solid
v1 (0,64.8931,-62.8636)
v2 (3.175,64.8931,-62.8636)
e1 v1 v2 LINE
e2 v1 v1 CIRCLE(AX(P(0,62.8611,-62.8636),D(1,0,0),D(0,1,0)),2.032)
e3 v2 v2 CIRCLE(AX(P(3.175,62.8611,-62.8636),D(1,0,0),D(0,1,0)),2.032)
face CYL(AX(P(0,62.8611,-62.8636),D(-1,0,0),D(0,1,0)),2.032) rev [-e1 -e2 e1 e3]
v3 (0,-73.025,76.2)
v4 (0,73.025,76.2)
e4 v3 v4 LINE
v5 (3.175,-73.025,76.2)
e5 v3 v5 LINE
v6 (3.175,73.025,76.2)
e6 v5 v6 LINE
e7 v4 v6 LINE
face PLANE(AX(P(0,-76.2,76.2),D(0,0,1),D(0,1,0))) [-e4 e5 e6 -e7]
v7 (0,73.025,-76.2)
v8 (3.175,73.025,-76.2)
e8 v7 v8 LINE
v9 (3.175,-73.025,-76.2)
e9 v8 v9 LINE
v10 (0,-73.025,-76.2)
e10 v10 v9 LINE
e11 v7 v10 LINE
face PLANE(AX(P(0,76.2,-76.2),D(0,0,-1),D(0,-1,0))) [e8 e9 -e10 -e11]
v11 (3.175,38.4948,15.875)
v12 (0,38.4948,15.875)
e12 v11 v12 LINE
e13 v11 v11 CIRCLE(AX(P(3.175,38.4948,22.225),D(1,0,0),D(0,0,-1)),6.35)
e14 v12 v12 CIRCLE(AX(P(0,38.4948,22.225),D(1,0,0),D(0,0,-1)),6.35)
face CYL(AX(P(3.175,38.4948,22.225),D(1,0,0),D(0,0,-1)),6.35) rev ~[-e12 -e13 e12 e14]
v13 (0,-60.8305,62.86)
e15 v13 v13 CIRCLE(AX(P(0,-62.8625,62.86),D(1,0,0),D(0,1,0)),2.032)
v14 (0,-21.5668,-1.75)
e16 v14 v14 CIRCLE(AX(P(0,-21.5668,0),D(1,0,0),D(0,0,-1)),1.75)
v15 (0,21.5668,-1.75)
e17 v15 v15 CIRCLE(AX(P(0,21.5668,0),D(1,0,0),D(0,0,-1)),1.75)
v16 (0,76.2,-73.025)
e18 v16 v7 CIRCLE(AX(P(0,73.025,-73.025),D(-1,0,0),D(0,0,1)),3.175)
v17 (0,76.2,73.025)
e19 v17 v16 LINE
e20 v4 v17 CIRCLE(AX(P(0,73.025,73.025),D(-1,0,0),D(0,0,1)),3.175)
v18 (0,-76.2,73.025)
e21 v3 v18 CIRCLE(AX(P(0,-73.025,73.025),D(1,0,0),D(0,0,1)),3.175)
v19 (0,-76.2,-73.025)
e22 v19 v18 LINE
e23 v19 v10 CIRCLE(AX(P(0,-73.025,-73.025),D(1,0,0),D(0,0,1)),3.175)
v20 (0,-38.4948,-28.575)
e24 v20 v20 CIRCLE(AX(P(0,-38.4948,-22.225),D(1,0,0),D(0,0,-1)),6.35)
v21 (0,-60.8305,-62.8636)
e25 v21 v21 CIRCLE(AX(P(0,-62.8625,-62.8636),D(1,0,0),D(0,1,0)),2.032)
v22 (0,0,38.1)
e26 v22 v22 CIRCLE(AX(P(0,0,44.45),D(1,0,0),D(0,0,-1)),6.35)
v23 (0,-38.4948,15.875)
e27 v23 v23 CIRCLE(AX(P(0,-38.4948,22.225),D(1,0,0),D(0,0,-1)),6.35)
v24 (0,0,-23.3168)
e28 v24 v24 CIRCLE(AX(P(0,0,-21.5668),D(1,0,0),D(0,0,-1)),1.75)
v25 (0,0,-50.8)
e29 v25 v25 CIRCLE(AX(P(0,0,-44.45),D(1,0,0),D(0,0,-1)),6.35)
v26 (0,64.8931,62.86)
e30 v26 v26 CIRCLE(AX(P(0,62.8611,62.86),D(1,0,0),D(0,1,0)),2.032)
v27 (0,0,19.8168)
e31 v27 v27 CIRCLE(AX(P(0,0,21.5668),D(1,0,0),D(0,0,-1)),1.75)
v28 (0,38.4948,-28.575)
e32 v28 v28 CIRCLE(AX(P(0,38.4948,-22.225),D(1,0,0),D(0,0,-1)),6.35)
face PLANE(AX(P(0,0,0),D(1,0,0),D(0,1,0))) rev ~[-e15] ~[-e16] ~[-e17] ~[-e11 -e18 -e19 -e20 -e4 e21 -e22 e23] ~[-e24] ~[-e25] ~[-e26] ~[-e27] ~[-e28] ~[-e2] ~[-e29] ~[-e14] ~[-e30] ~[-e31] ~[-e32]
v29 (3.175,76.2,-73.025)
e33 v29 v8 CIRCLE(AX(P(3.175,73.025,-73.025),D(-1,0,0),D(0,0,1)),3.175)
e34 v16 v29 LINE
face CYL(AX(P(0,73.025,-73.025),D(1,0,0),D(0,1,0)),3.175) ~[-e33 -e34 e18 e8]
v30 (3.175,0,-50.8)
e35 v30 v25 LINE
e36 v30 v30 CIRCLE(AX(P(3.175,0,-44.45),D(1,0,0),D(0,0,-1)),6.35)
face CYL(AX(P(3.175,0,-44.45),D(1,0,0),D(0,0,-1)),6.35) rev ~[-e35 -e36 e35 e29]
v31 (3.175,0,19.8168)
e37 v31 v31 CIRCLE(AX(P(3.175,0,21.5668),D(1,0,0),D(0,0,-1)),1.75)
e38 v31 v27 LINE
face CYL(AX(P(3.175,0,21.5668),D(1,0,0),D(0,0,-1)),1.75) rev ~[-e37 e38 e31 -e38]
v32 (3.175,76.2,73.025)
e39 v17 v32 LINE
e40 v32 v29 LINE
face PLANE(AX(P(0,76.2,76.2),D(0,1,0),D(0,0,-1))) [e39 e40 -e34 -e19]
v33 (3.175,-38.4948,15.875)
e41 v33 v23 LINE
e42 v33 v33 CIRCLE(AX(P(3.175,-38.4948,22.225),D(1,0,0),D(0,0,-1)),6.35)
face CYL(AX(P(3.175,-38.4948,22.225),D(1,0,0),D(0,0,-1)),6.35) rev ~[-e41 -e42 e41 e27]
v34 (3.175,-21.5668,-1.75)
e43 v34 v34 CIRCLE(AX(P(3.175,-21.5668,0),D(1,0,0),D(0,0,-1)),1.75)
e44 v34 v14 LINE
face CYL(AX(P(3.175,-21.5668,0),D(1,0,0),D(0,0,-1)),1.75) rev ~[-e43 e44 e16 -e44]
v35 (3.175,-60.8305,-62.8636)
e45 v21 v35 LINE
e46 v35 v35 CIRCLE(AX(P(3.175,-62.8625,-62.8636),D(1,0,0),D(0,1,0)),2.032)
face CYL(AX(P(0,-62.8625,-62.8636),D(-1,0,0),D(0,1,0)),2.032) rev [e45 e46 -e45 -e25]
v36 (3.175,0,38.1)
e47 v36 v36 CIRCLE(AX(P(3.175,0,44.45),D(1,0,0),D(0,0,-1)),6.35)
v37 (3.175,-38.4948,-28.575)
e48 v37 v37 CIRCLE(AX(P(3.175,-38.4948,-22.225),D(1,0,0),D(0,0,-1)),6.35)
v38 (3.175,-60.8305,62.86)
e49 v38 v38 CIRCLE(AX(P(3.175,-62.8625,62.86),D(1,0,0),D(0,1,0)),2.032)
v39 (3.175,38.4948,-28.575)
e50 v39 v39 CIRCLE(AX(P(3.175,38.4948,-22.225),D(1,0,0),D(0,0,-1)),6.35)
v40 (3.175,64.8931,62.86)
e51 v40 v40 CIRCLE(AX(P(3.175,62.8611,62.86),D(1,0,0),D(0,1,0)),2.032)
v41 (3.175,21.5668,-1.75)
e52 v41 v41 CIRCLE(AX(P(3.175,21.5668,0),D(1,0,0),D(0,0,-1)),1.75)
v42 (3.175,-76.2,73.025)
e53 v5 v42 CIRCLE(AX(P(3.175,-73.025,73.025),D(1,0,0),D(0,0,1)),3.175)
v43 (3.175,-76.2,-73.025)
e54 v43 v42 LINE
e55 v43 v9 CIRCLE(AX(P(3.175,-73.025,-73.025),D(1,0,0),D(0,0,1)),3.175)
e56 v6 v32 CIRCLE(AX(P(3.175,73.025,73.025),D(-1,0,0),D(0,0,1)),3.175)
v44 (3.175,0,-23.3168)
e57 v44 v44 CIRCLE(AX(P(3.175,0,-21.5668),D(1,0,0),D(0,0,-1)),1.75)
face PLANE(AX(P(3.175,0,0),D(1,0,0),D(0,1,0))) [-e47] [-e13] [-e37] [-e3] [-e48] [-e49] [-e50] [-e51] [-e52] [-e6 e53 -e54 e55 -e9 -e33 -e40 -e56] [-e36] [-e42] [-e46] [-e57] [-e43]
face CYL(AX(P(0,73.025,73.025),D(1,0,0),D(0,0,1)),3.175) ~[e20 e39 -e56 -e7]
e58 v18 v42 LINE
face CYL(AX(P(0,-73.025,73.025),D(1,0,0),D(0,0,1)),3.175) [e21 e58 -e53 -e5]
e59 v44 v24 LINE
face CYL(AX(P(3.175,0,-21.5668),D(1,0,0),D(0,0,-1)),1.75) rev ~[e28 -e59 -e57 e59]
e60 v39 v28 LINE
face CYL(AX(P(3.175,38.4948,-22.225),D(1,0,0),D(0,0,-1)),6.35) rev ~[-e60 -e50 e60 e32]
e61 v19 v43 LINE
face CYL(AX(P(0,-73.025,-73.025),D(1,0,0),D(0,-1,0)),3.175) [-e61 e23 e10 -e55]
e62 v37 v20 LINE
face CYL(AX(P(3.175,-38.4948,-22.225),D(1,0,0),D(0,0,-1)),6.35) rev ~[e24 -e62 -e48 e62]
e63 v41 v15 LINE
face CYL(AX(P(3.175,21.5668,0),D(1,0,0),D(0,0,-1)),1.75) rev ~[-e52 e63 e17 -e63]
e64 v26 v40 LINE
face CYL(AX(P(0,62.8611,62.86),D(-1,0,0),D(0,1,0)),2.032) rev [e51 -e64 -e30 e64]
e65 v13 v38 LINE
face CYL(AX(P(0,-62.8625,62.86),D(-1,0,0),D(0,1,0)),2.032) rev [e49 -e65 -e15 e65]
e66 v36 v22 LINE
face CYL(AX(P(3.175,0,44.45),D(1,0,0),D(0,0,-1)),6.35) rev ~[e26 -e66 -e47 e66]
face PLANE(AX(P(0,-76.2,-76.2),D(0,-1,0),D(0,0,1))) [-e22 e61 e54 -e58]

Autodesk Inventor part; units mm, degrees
ref_plane "YZ Plane" through (0, 0, 0) normal (1, 0, 0) x (0, 1, 0)
ref_plane "XZ Plane" through (0, 0, 0) normal (0, 1, 0) x (-1, 0, 0)
ref_plane "XY Plane" through (0, 0, 0) normal (0, 0, 1) x (1, 0, 0)
sketch "Sketch1" plane through (0, 0, 0) normal (1, 0, 0) x (0, 1, 0)
  line L0 (-76.2, 76.2) -> (76.2, 76.2)
  line L1 (76.2, 76.2) -> (76.2, -76.2)
  line L2 (76.2, -76.2) -> (-76.2, -76.2)
  line L3 (-76.2, -76.2) -> (-76.2, 76.2)
  circle A0 centre (62.8611, 62.86) radius 2.032
  circle A1 centre (-62.8625, -62.8636) radius 2.032
  circle A2 centre (-0.0007, -88.9018) radius 2.032
  circle A3 centre (-62.8625, 62.86) radius 2.032
  circle A4 centre (88.8993, -0.0018) radius 2.032
  circle A5 centre (-88.9007, -0.0018) radius 2.032
  circle A6 centre (62.8611, -62.8636) radius 2.032
  circle A7 centre (-0.0007, 88.8982) radius 2.032
  circle A8 centre (-0.0007, -0.0018) radius 6.35
  dimension "d0" = 152.4
  dimension "d1" = 152.4
  dimension "d5" = 12.7
extrude "Extrusion2" add sketch "Sketch1" along normal blind 3.175 contours L0 L1 L2 L3 | A8
fillet "Fillet2" radius 3.175 4 edges at (1.5875, 76.2, 76.2) (1.5875, 76.2, -76.2) (1.5875, -76.2, 76.2) (1.5875, -76.2, -76.2)
sketch "Sketch2" plane through (3.175, 0, 0) normal (1, 0, 0) x (0, 0, -1)
  line L0 (-50.8, -50.8) -> (50.8, -50.8)
  line L1 (50.8, -50.8) -> (50.8, 50.8)
  line L2 (50.8, 50.8) -> (-50.8, 50.8)
  line L3 (-50.8, 50.8) -> (-50.8, -50.8)
  line L4 (-50.8, -50.8) -> (50.8, 50.8) construction
  line L5 (50.8, -50.8) -> (-50.8, 50.8) construction
  circle A0 centre (0, 0) radius 12.7
  line L6 (-12.7, 0) -> (-50.8, 38.1)
  line L7 (0, 12.7) -> (-38.1, 50.8)
  line L8 (-38.1, 50.8) -> (0, 12.7)
  line L9 (38.1, 50.8) -> (0, 12.7)
  line L10 (12.7, 0) -> (50.8, 38.1)
  line L11 (12.7, 0) -> (50.8, -38.1)
  line L12 (0, -12.7) -> (38.1, -50.8)
  line L13 (0, -12.7) -> (-38.1, -50.8)
  line L14 (-12.7, 0) -> (-50.8, -38.1)
  dimension "d9" = 101.6
  dimension "d10" = 101.6
  dimension "d11" = 25.4
extrude "Extrusion3" [suppressed]
fillet "Fillet3" [suppressed]
sketch "Sketch3" plane through (3.175, 0, 0) normal (1, 0, 0) x (0, 0, -1)
  circle A0 centre (-22.225, -38.4948) radius 6.35
  circle A1 centre (-44.45, 0) radius 6.35
  circle A2 centre (22.225, -38.4948) radius 6.35
  circle A3 centre (-22.225, 38.4948) radius 6.35
  circle A4 centre (22.225, 38.4948) radius 6.35
  circle A5 centre (44.45, 0) radius 6.35
  point P0 (0, 0)
extrude "Extrusion4" cut sketch "Sketch3" against normal blind 25.4
sketch "Sketch4" plane through (3.175, 0, 0) normal (1, 0, 0) x (0, 0, -1)
  arc A0 (23.2155, 2.1696) -> (22.9916, -2.3228) centre (21.5668, 0) ccw
  line L0 (23.2155, 2.1696) -> (2.1696, 23.2155)
  arc A1 (-2.3228, 22.9916) -> (2.1696, 23.2155) centre (0, 21.5668) ccw
  line L1 (-2.3228, 22.9916) -> (-22.9916, 2.3228)
  arc A2 (-21.0224, -2.6701) -> (-22.9916, 2.3228) centre (-21.5668, 0) ccw
  arc A3 (-21.0026, -2.6855) -> (-21.0224, -2.6701) centre (-21.0733, -2.7562) ccw
  line L2 (-21.0026, -2.6855) -> (-2.6855, -21.0026)
  arc A4 (-2.6701, -21.0224) -> (-2.6855, -21.0026) centre (-2.7562, -21.0733) ccw
  arc A5 (2.3228, -22.9916) -> (-2.6701, -21.0224) centre (0, -21.5668) ccw
  line L3 (2.3228, -22.9916) -> (22.9916, -2.3228)
  circle A6 centre (3.0052, -18.703) radius 0.6
  circle A7 centre (4.1012, -19.799) radius 0.6
  circle A8 centre (6.8364, 2.2749) radius 0.5
  line L4 (-6.1377, 16.2493) -> (-7.0852, 17.1968)
  arc A9 (-6.1377, 16.1362) -> (-6.1377, 16.2493) centre (-6.1943, 16.1927) ccw
  line L5 (-7.0852, 15.1887) -> (-6.1377, 16.1362)
  arc A10 (-7.1983, 15.1887) -> (-7.0852, 15.1887) centre (-7.1418, 15.2452) ccw
  line L6 (-8.1459, 16.1362) -> (-7.1983, 15.1887)
  arc A11 (-8.1459, 16.2493) -> (-8.1459, 16.1362) centre (-8.0893, 16.1927) ccw
  line L7 (-7.1983, 17.1968) -> (-8.1459, 16.2493)
  arc A12 (-7.0852, 17.1968) -> (-7.1983, 17.1968) centre (-7.1418, 17.1403) ccw
  line L8 (8.8176, 15.6483) -> (7.8701, 16.5958)
  arc A13 (8.8176, 15.5351) -> (8.8176, 15.6483) centre (8.7611, 15.5917) ccw
  line L9 (7.8701, 14.5876) -> (8.8176, 15.5351)
  arc A14 (7.757, 14.5876) -> (7.8701, 14.5876) centre (7.8135, 14.6442) ccw
  line L10 (6.8094, 15.5351) -> (7.757, 14.5876)
  arc A15 (6.8094, 15.6483) -> (6.8094, 15.5351) centre (6.866, 15.5917) ccw
  line L11 (7.757, 16.5958) -> (6.8094, 15.6483)
  arc A16 (7.8701, 16.5958) -> (7.757, 16.5958) centre (7.8135, 16.5392) ccw
  line L12 (19.601, 4.7235) -> (18.6535, 5.671)
  arc A17 (19.601, 4.6103) -> (19.601, 4.7235) centre (19.5444, 4.6669) ccw
  line L13 (18.6535, 3.6628) -> (19.601, 4.6103)
  arc A18 (18.5403, 3.6628) -> (18.6535, 3.6628) centre (18.5969, 3.7194) ccw
  line L14 (17.5928, 4.6103) -> (18.5403, 3.6628)
  arc A19 (17.5928, 4.7235) -> (17.5928, 4.6103) centre (17.6494, 4.6669) ccw
  line L15 (18.5403, 5.671) -> (17.5928, 4.7235)
  arc A20 (18.6535, 5.671) -> (18.5403, 5.671) centre (18.5969, 5.6144) ccw
  line L16 (15.8533, 4.5821) -> (14.9058, 5.5296)
  arc A21 (15.8533, 4.4689) -> (15.8533, 4.5821) centre (15.7968, 4.5255) ccw
  line L17 (14.9058, 3.5214) -> (15.8533, 4.4689)
  arc A22 (14.7927, 3.5214) -> (14.9058, 3.5214) centre (14.8492, 3.578) ccw
  line L18 (13.8452, 4.4689) -> (14.7927, 3.5214)
  arc A23 (13.8452, 4.5821) -> (13.8452, 4.4689) centre (13.9017, 4.5255) ccw
  line L19 (14.7927, 5.5296) -> (13.8452, 4.5821)
  arc A24 (14.9058, 5.5296) -> (14.7927, 5.5296) centre (14.8492, 5.473) ccw
  line L20 (16.419, 0.1273) -> (15.4715, 1.0748)
  arc A25 (16.419, 0.0141) -> (16.419, 0.1273) centre (16.3625, 0.0707) ccw
  line L21 (15.4715, -0.9334) -> (16.419, 0.0141)
  arc A26 (15.3584, -0.9334) -> (15.4715, -0.9334) centre (15.4149, -0.8768) ccw
  line L22 (14.4108, 0.0141) -> (15.3584, -0.9334)
  arc A27 (14.4108, 0.1273) -> (14.4108, 0.0141) centre (14.4674, 0.0707) ccw
  line L23 (15.3584, 1.0748) -> (14.4108, 0.1273)
  arc A28 (15.4715, 1.0748) -> (15.3584, 1.0748) centre (15.4149, 1.0182) ccw
  circle A29 centre (16.122, -7.2832) radius 0.75
  circle A30 centre (-6.5407, -11.7733) radius 0.6
  circle A31 centre (-7.6014, -10.7127) radius 0.6
  circle A32 centre (-8.6621, -9.652) radius 0.6
  circle A33 centre (-8.8035, -12.4097) radius 0.5
  line L24 (18.9292, -5.4235) -> (17.9817, -4.476)
  arc A34 (18.9292, -5.5366) -> (18.9292, -5.4235) centre (18.8727, -5.4801) ccw
  line L25 (17.9817, -6.4842) -> (18.9292, -5.5366)
  arc A35 (17.8686, -6.4842) -> (17.9817, -6.4842) centre (17.9252, -6.4276) ccw
  line L26 (16.9211, -5.5366) -> (17.8686, -6.4842)
  arc A36 (16.9211, -5.4235) -> (16.9211, -5.5366) centre (16.9776, -5.4801) ccw
  line L27 (17.8686, -4.476) -> (16.9211, -5.4235)
  arc A37 (17.9817, -4.476) -> (17.8686, -4.476) centre (17.9252, -4.5326) ccw
  line L28 (-4.2144, 14.326) -> (-5.1619, 15.2735)
  arc A38 (-4.2144, 14.2128) -> (-4.2144, 14.326) centre (-4.2709, 14.2694) ccw
  line L29 (-5.1619, 13.2653) -> (-4.2144, 14.2128)
  arc A39 (-5.275, 13.2653) -> (-5.1619, 13.2653) centre (-5.2184, 13.3219) ccw
  line L30 (-6.2225, 14.2128) -> (-5.275, 13.2653)
  arc A40 (-6.2225, 14.326) -> (-6.2225, 14.2128) centre (-6.166, 14.2694) ccw
  line L31 (-5.275, 15.2735) -> (-6.2225, 14.326)
  arc A41 (-5.1619, 15.2735) -> (-5.275, 15.2735) centre (-5.2184, 15.2169) ccw
  line L32 (7.3618, 0.623) -> (8.3055, 1.5667)
  arc A42 (7.2487, 0.623) -> (7.3618, 0.623) centre (7.3053, 0.6795) ccw
  line L33 (6.8654, 1.0063) -> (7.2487, 0.623)
  arc A43 (6.8654, 1.1194) -> (6.8654, 1.0063) centre (6.922, 1.0629) ccw
  line L34 (7.8091, 2.0631) -> (6.8654, 1.1194)
  arc A44 (7.9222, 2.0631) -> (7.8091, 2.0631) centre (7.8657, 2.0066) ccw
  line L35 (8.3055, 1.6798) -> (7.9222, 2.0631)
  arc A45 (8.3055, 1.5667) -> (8.3055, 1.6798) centre (8.249, 1.6232) ccw
  line L36 (12.9068, -4.7667) -> (14.116, -3.5576)
  arc A46 (12.7937, -4.7667) -> (12.9068, -4.7667) centre (12.8503, -4.7101) ccw
  line L37 (12.0957, -4.0687) -> (12.7937, -4.7667)
  arc A47 (12.0957, -3.9555) -> (12.0957, -4.0687) centre (12.1522, -4.0121) ccw
  line L38 (13.3048, -2.7464) -> (12.0957, -3.9555)
  arc A48 (13.4179, -2.7464) -> (13.3048, -2.7464) centre (13.3614, -2.803) ccw
  line L39 (14.116, -3.4444) -> (13.4179, -2.7464)
  arc A49 (14.116, -3.5576) -> (14.116, -3.4444) centre (14.0594, -3.501) ccw
  line L40 (6.6373, -11.9558) -> (4.8803, -13.7127)
  arc A50 (6.8494, -11.9558) -> (6.6373, -11.9558) centre (6.7433, -12.0618) ccw
  line L41 (7.3, -12.4064) -> (6.8494, -11.9558)
  arc A51 (7.3, -12.6185) -> (7.3, -12.4064) centre (7.194, -12.5125) ccw
  line L42 (5.5431, -14.3755) -> (7.3, -12.6185)
  arc A52 (5.3309, -14.3755) -> (5.5431, -14.3755) centre (5.437, -14.2694) ccw
  line L43 (4.8803, -13.9248) -> (5.3309, -14.3755)
  arc A53 (4.8803, -13.7127) -> (4.8803, -13.9248) centre (4.9864, -13.8188) ccw
  line L44 (-10.9165, -1.3583) -> (-10.3201, -0.7619)
  arc A54 (-11.0296, -1.3583) -> (-10.9165, -1.3583) centre (-10.973, -1.3017) ccw
  line L45 (-11.2566, -1.1313) -> (-11.0296, -1.3583)
  arc A55 (-11.2566, -1.0181) -> (-11.2566, -1.1313) centre (-11.2001, -1.0747) ccw
  line L46 (-10.6602, -0.4217) -> (-11.2566, -1.0181)
  arc A56 (-10.5471, -0.4217) -> (-10.6602, -0.4217) centre (-10.6037, -0.4783) ccw
  line L47 (-10.3201, -0.6487) -> (-10.5471, -0.4217)
  arc A57 (-10.3201, -0.7619) -> (-10.3201, -0.6487) centre (-10.3766, -0.7053) ccw
  line L48 (-10.4537, -1.8887) -> (-10.2266, -2.1157)
  arc A58 (-10.4537, -1.7755) -> (-10.4537, -1.8887) centre (-10.3971, -1.8321) ccw
  line L49 (-9.8573, -1.1791) -> (-10.4537, -1.7755)
  arc A59 (-9.7441, -1.1791) -> (-9.8573, -1.1791) centre (-9.8007, -1.2357) ccw
  line L50 (-9.5171, -1.4061) -> (-9.7441, -1.1791)
  arc A60 (-9.5171, -1.5193) -> (-9.5171, -1.4061) centre (-9.5737, -1.4627) ccw
  line L51 (-10.1135, -2.1157) -> (-9.5171, -1.5193)
  arc A61 (-10.2266, -2.1157) -> (-10.1135, -2.1157) centre (-10.1701, -2.0591) ccw
  line L52 (-4.4405, 1.0113) -> (-4.2546, 0.8254)
  arc A62 (-4.4405, 1.1244) -> (-4.4405, 1.0113) centre (-4.384, 1.0679) ccw
  line L53 (-3.9397, 1.6252) -> (-4.4405, 1.1244)
  arc A63 (-3.8266, 1.6252) -> (-3.9397, 1.6252) centre (-3.8832, 1.5686) ccw
  line L54 (-3.6407, 1.4393) -> (-3.8266, 1.6252)
  arc A64 (-3.6407, 1.3261) -> (-3.6407, 1.4393) centre (-3.6972, 1.3827) ccw
  line L55 (-4.1415, 0.8254) -> (-3.6407, 1.3261)
  arc A65 (-4.2546, 0.8254) -> (-4.1415, 0.8254) centre (-4.198, 0.8819) ccw
  line L56 (-8.9918, 6.0077) -> (-8.8058, 5.8218)
  arc A66 (-8.9918, 6.1208) -> (-8.9918, 6.0077) centre (-8.9352, 6.0642) ccw
  line L57 (-8.491, 6.6216) -> (-8.9918, 6.1208)
  arc A67 (-8.3778, 6.6216) -> (-8.491, 6.6216) centre (-8.4344, 6.565) ccw
  line L58 (-8.1919, 6.4357) -> (-8.3778, 6.6216)
  arc A68 (-8.1919, 6.3225) -> (-8.1919, 6.4357) centre (-8.2485, 6.3791) ccw
  line L59 (-8.6927, 5.8218) -> (-8.1919, 6.3225)
  arc A69 (-8.8058, 5.8218) -> (-8.6927, 5.8218) centre (-8.7493, 5.8783) ccw
  line L60 (2.8669, 3.1449) -> (3.0528, 2.9589)
  arc A70 (2.8669, 3.258) -> (2.8669, 3.1449) centre (2.9235, 3.2014) ccw
  line L61 (3.3677, 3.7588) -> (2.8669, 3.258)
  arc A71 (3.4808, 3.7588) -> (3.3677, 3.7588) centre (3.4243, 3.7022) ccw
  line L62 (3.6668, 3.5729) -> (3.4808, 3.7588)
  arc A72 (3.6668, 3.4597) -> (3.6668, 3.5729) centre (3.6102, 3.5163) ccw
  line L63 (3.166, 2.9589) -> (3.6668, 3.4597)
  arc A73 (3.0528, 2.9589) -> (3.166, 2.9589) centre (3.1094, 3.0155) ccw
  line L64 (4.4253, 1.5865) -> (4.6112, 1.4005)
  arc A74 (4.4253, 1.6996) -> (4.4253, 1.5865) centre (4.4819, 1.643) ccw
  line L65 (4.9261, 2.2004) -> (4.4253, 1.6996)
  arc A75 (5.0392, 2.2004) -> (4.9261, 2.2004) centre (4.9827, 2.1438) ccw
  line L66 (5.2252, 2.0145) -> (5.0392, 2.2004)
  arc A76 (5.2252, 1.9013) -> (5.2252, 2.0145) centre (5.1686, 1.9579) ccw
  line L67 (4.7244, 1.4005) -> (5.2252, 1.9013)
  arc A77 (4.6112, 1.4005) -> (4.7244, 1.4005) centre (4.6678, 1.4571) ccw
  line L68 (7.7498, 0.1218) -> (7.9358, -0.0641)
  arc A78 (7.7498, 0.235) -> (7.7498, 0.1218) centre (7.8064, 0.1784) ccw
  line L69 (8.2506, 0.7358) -> (7.7498, 0.235)
  arc A79 (8.3638, 0.7358) -> (8.2506, 0.7358) centre (8.3072, 0.6792) ccw
  line L70 (8.5497, 0.5498) -> (8.3638, 0.7358)
  arc A80 (8.5497, 0.4367) -> (8.5497, 0.5498) centre (8.4931, 0.4933) ccw
  line L71 (8.0489, -0.0641) -> (8.5497, 0.4367)
  arc A81 (7.9358, -0.0641) -> (8.0489, -0.0641) centre (7.9923, -0.0075) ccw
  line L72 (11.3694, -3.4478) -> (11.5553, -3.6337)
  arc A82 (11.3694, -3.3347) -> (11.3694, -3.4478) centre (11.426, -3.3912) ccw
  line L73 (11.8702, -2.8339) -> (11.3694, -3.3347)
  arc A83 (11.9833, -2.8339) -> (11.8702, -2.8339) centre (11.9268, -2.8904) ccw
  line L74 (12.1692, -3.0198) -> (11.9833, -2.8339)
  arc A84 (12.1692, -3.1329) -> (12.1692, -3.0198) centre (12.1127, -3.0764) ccw
  line L75 (11.6685, -3.6337) -> (12.1692, -3.1329)
  arc A85 (11.5553, -3.6337) -> (11.6685, -3.6337) centre (11.6119, -3.5771) ccw
  line L76 (7.2531, -10.8075) -> (7.439, -10.9935)
  arc A86 (7.2531, -10.6944) -> (7.2531, -10.8075) centre (7.3097, -10.751) ccw
  line L77 (7.7539, -10.1936) -> (7.2531, -10.6944)
  arc A87 (7.867, -10.1936) -> (7.7539, -10.1936) centre (7.8105, -10.2502) ccw
  line L78 (8.053, -10.3795) -> (7.867, -10.1936)
  arc A88 (8.053, -10.4927) -> (8.053, -10.3795) centre (7.9964, -10.4361) ccw
  line L79 (7.5522, -10.9935) -> (8.053, -10.4927)
  arc A89 (7.439, -10.9935) -> (7.5522, -10.9935) centre (7.4956, -10.9369) ccw
  line L80 (8.0117, -11.5935) -> (8.2265, -11.8083)
  arc A90 (8.0117, -11.4804) -> (8.0117, -11.5935) centre (8.0683, -11.537) ccw
  line L81 (8.5536, -10.9385) -> (8.0117, -11.4804)
  arc A91 (8.6668, -10.9385) -> (8.5536, -10.9385) centre (8.6102, -10.995) ccw
  line L82 (8.8816, -11.1533) -> (8.6668, -10.9385)
  arc A92 (8.8816, -11.2664) -> (8.8816, -11.1533) centre (8.825, -11.2098) ccw
  line L83 (8.3396, -11.8083) -> (8.8816, -11.2664)
  arc A93 (8.2265, -11.8083) -> (8.3396, -11.8083) centre (8.2831, -11.7518) ccw
  line L84 (-8.0565, 2.0509) -> (-7.8655, 2.2419)
  arc A94 (-8.1696, 2.0509) -> (-8.0565, 2.0509) centre (-8.1131, 2.1075) ccw
  line L85 (-8.6663, 2.5475) -> (-8.1696, 2.0509)
  arc A95 (-8.6663, 2.6607) -> (-8.6663, 2.5475) centre (-8.6097, 2.6041) ccw
  line L86 (-8.4753, 2.8517) -> (-8.6663, 2.6607)
  arc A96 (-8.3622, 2.8517) -> (-8.4753, 2.8517) centre (-8.4187, 2.7951) ccw
  line L87 (-7.8655, 2.355) -> (-8.3622, 2.8517)
  arc A97 (-7.8655, 2.2419) -> (-7.8655, 2.355) centre (-7.9221, 2.2985) ccw
  line L88 (-6.485, 0.2962) -> (-5.9884, -0.2005)
  arc A98 (-6.485, 0.4093) -> (-6.485, 0.2962) centre (-6.4285, 0.3527) ccw
  line L89 (-6.294, 0.6003) -> (-6.485, 0.4093)
  arc A99 (-6.1809, 0.6003) -> (-6.294, 0.6003) centre (-6.2375, 0.5437) ccw
  line L90 (-5.6842, 0.1036) -> (-6.1809, 0.6003)
  arc A100 (-5.6842, -0.0095) -> (-5.6842, 0.1036) centre (-5.7408, 0.0471) ccw
  line L91 (-5.8752, -0.2005) -> (-5.6842, -0.0095)
  arc A101 (-5.9884, -0.2005) -> (-5.8752, -0.2005) centre (-5.9318, -0.1439) ccw
  line L92 (-8.0538, -3.0609) -> (-7.5571, -3.5576)
  arc A102 (-8.0538, -2.9478) -> (-8.0538, -3.0609) centre (-7.9972, -3.0044) ccw
  line L93 (-7.8627, -2.7568) -> (-8.0538, -2.9478)
  arc A103 (-7.7496, -2.7568) -> (-7.8627, -2.7568) centre (-7.8062, -2.8133) ccw
  line L94 (-7.253, -3.2534) -> (-7.7496, -2.7568)
  arc A104 (-7.253, -3.3666) -> (-7.253, -3.2534) centre (-7.3095, -3.31) ccw
  line L95 (-7.444, -3.5576) -> (-7.253, -3.3666)
  arc A105 (-7.5571, -3.5576) -> (-7.444, -3.5576) centre (-7.5005, -3.501) ccw
  line L96 (10.6894, 0.9692) -> (11.186, 0.4725)
  arc A106 (10.6894, 1.0823) -> (10.6894, 0.9692) centre (10.746, 1.0257) ccw
  line L97 (10.8804, 1.2733) -> (10.6894, 1.0823)
  arc A107 (10.9935, 1.2733) -> (10.8804, 1.2733) centre (10.937, 1.2167) ccw
  line L98 (11.4902, 0.7766) -> (10.9935, 1.2733)
  arc A108 (11.4902, 0.6635) -> (11.4902, 0.7766) centre (11.4336, 0.7201) ccw
  line L99 (11.2992, 0.4725) -> (11.4902, 0.6635)
  arc A109 (11.186, 0.4725) -> (11.2992, 0.4725) centre (11.2426, 0.5291) ccw
  line L100 (7.9785, -2.1827) -> (8.4752, -2.6794)
  arc A110 (7.9785, -2.0696) -> (7.9785, -2.1827) centre (8.0351, -2.1261) ccw
  line L101 (8.1696, -1.8785) -> (7.9785, -2.0696)
  arc A111 (8.2827, -1.8785) -> (8.1696, -1.8785) centre (8.2261, -1.9351) ccw
  line L102 (8.7793, -2.3752) -> (8.2827, -1.8785)
  arc A112 (8.7793, -2.4883) -> (8.7793, -2.3752) centre (8.7228, -2.4318) ccw
  line L103 (8.5883, -2.6794) -> (8.7793, -2.4883)
  arc A113 (8.4752, -2.6794) -> (8.5883, -2.6794) centre (8.5318, -2.6228) ccw
  line L104 (10.502, -8.0563) -> (10.9987, -8.5529)
  arc A114 (10.502, -7.9431) -> (10.502, -8.0563) centre (10.5586, -7.9997) ccw
  line L105 (10.693, -7.7521) -> (10.502, -7.9431)
  arc A115 (10.8061, -7.7521) -> (10.693, -7.7521) centre (10.7496, -7.8087) ccw
  line L106 (11.3028, -8.2488) -> (10.8061, -7.7521)
  arc A116 (11.3028, -8.3619) -> (11.3028, -8.2488) centre (11.2462, -8.3054) ccw
  line L107 (11.1118, -8.5529) -> (11.3028, -8.3619)
  arc A117 (10.9987, -8.5529) -> (11.1118, -8.5529) centre (11.0552, -8.4964) ccw
  line L108 (9.7298, -8.8285) -> (10.2265, -9.3251)
  arc A118 (9.7298, -8.7153) -> (9.7298, -8.8285) centre (9.7864, -8.7719) ccw
  line L109 (9.9208, -8.5243) -> (9.7298, -8.7153)
  arc A119 (10.034, -8.5243) -> (9.9208, -8.5243) centre (9.9774, -8.5809) ccw
  line L110 (10.5306, -9.021) -> (10.034, -8.5243)
  arc A120 (10.5306, -9.1341) -> (10.5306, -9.021) centre (10.474, -9.0776) ccw
  line L111 (10.3396, -9.3251) -> (10.5306, -9.1341)
  arc A121 (10.2265, -9.3251) -> (10.3396, -9.3251) centre (10.283, -9.2686) ccw
  line L112 (8.8271, -9.6036) -> (9.4328, -10.2093)
  arc A122 (8.8271, -9.4905) -> (8.8271, -9.6036) centre (8.8837, -9.5471) ccw
  line L113 (9.1377, -9.1799) -> (8.8271, -9.4905)
  arc A123 (9.2508, -9.1799) -> (9.1377, -9.1799) centre (9.1943, -9.2365) ccw
  line L114 (9.8566, -9.7856) -> (9.2508, -9.1799)
  arc A124 (9.8566, -9.8987) -> (9.8566, -9.7856) centre (9.8, -9.8422) ccw
  line L115 (9.5459, -10.2093) -> (9.8566, -9.8987)
  arc A125 (9.4328, -10.2093) -> (9.5459, -10.2093) centre (9.4894, -10.1528) ccw
  line L116 (3.8806, -14.6777) -> (4.3772, -15.1744)
  arc A126 (3.8806, -14.5646) -> (3.8806, -14.6777) centre (3.9371, -14.6211) ccw
  line L117 (4.0716, -14.3736) -> (3.8806, -14.5646)
  arc A127 (4.1847, -14.3736) -> (4.0716, -14.3736) centre (4.1281, -14.4301) ccw
  line L118 (4.6814, -14.8702) -> (4.1847, -14.3736)
  arc A128 (4.6814, -14.9834) -> (4.6814, -14.8702) centre (4.6248, -14.9268) ccw
  line L119 (4.4904, -15.1744) -> (4.6814, -14.9834)
  arc A129 (4.3772, -15.1744) -> (4.4904, -15.1744) centre (4.4338, -15.1178) ccw
  line L120 (-2.5721, -13.7107) -> (-2.0754, -14.2074)
  arc A130 (-2.5721, -13.5976) -> (-2.5721, -13.7107) centre (-2.5155, -13.6542) ccw
  line L121 (-2.3811, -13.4066) -> (-2.5721, -13.5976)
  arc A131 (-2.2679, -13.4066) -> (-2.3811, -13.4066) centre (-2.3245, -13.4631) ccw
  line L122 (-1.7713, -13.9032) -> (-2.2679, -13.4066)
  arc A132 (-1.7713, -14.0164) -> (-1.7713, -13.9032) centre (-1.8279, -13.9598) ccw
  line L123 (-1.9623, -14.2074) -> (-1.7713, -14.0164)
  arc A133 (-2.0754, -14.2074) -> (-1.9623, -14.2074) centre (-2.0189, -14.1508) ccw
  line L124 (-4.0504, -12.2324) -> (-3.5538, -12.729)
  arc A134 (-4.0504, -12.1192) -> (-4.0504, -12.2324) centre (-3.9939, -12.1758) ccw
  line L125 (-3.8594, -11.9282) -> (-4.0504, -12.1192)
  arc A135 (-3.7463, -11.9282) -> (-3.8594, -11.9282) centre (-3.8029, -11.9848) ccw
  line L126 (-3.2496, -12.4249) -> (-3.7463, -11.9282)
  arc A136 (-3.2496, -12.538) -> (-3.2496, -12.4249) centre (-3.3062, -12.4815) ccw
  line L127 (-3.4406, -12.729) -> (-3.2496, -12.538)
  arc A137 (-3.5538, -12.729) -> (-3.4406, -12.729) centre (-3.4972, -12.6725) ccw
  line L128 (-6.708, -2.9151) -> (-6.4115, -2.6186)
  arc A138 (-6.8211, -2.9151) -> (-6.708, -2.9151) centre (-6.7645, -2.8585) ccw
  line L129 (-7.4165, -2.3197) -> (-6.8211, -2.9151)
  arc A139 (-7.4165, -2.2066) -> (-7.4165, -2.3197) centre (-7.3599, -2.2631) ccw
  line L130 (-7.12, -1.9101) -> (-7.4165, -2.2066)
  arc A140 (-7.0069, -1.9101) -> (-7.12, -1.9101) centre (-7.0634, -1.9667) ccw
  line L131 (-6.4115, -2.5055) -> (-7.0069, -1.9101)
  arc A141 (-6.4115, -2.6186) -> (-6.4115, -2.5055) centre (-6.468, -2.5621) ccw
  line L132 (3.9359, 2.0688) -> (4.5587, 2.6916)
  arc A142 (3.8227, 2.0688) -> (3.9359, 2.0688) centre (3.8793, 2.1253) ccw
  line L133 (3.5244, 2.3671) -> (3.8227, 2.0688)
  arc A143 (3.5244, 2.4802) -> (3.5244, 2.3671) centre (3.5809, 2.4237) ccw
  line L134 (4.1472, 3.1031) -> (3.5244, 2.4802)
  arc A144 (4.2603, 3.1031) -> (4.1472, 3.1031) centre (4.2038, 3.0465) ccw
  line L135 (4.5587, 2.8047) -> (4.2603, 3.1031)
  arc A145 (4.5587, 2.6916) -> (4.5587, 2.8047) centre (4.5021, 2.7482) ccw
  line L136 (-2.7105, 14.8239) -> (-2.1795, 15.3549)
  arc A146 (-2.8236, 14.8239) -> (-2.7105, 14.8239) centre (-2.767, 14.8805) ccw
  line L137 (-3.7755, 15.7758) -> (-2.8236, 14.8239)
  arc A147 (-3.7755, 15.8889) -> (-3.7755, 15.7758) centre (-3.7189, 15.8324) ccw
  line L138 (-3.2445, 16.4199) -> (-3.7755, 15.8889)
  arc A148 (-3.1314, 16.4199) -> (-3.2445, 16.4199) centre (-3.1879, 16.3633) ccw
  line L139 (-2.1795, 15.468) -> (-3.1314, 16.4199)
  arc A149 (-2.1795, 15.3549) -> (-2.1795, 15.468) centre (-2.2361, 15.4115) ccw
  line L140 (-4.6244, 16.7379) -> (-4.1517, 17.2106)
  arc A150 (-4.7376, 16.7379) -> (-4.6244, 16.7379) centre (-4.681, 16.7945) ccw
  line L141 (-5.7487, 17.749) -> (-4.7376, 16.7379)
  arc A151 (-5.7487, 17.8621) -> (-5.7487, 17.749) centre (-5.6921, 17.8056) ccw
  line L142 (-5.276, 18.3349) -> (-5.7487, 17.8621)
  arc A152 (-5.1628, 18.3349) -> (-5.276, 18.3349) centre (-5.2194, 18.2783) ccw
  line L143 (-4.1517, 17.3237) -> (-5.1628, 18.3349)
  arc A153 (-4.1517, 17.2106) -> (-4.1517, 17.3237) centre (-4.2083, 17.2672) ccw
  line L144 (-4.9285, 9.382) -> (-4.7198, 9.5906)
  arc A154 (-5.0416, 9.382) -> (-4.9285, 9.382) centre (-4.985, 9.4386) ccw
  line L145 (-5.5864, 9.9267) -> (-5.0416, 9.382)
  arc A155 (-5.5864, 10.0399) -> (-5.5864, 9.9267) centre (-5.5298, 9.9833) ccw
  line L146 (-5.3777, 10.2485) -> (-5.5864, 10.0399)
  arc A156 (-5.2646, 10.2485) -> (-5.3777, 10.2485) centre (-5.3212, 10.1919) ccw
  line L147 (-4.7198, 9.7038) -> (-5.2646, 10.2485)
  arc A157 (-4.7198, 9.5906) -> (-4.7198, 9.7038) centre (-4.7764, 9.6472) ccw
  line L148 (-4.7907, 10.6822) -> (-4.246, 10.1374)
  arc A158 (-4.7907, 10.7953) -> (-4.7907, 10.6822) centre (-4.7341, 10.7387) ccw
  line L149 (-4.5821, 11.0039) -> (-4.7907, 10.7953)
  arc A159 (-4.4689, 11.0039) -> (-4.5821, 11.0039) centre (-4.5255, 10.9474) ccw
  line L150 (-3.9242, 10.4592) -> (-4.4689, 11.0039)
  arc A160 (-3.9242, 10.3461) -> (-3.9242, 10.4592) centre (-3.9808, 10.4026) ccw
  line L151 (-4.1328, 10.1374) -> (-3.9242, 10.3461)
  arc A161 (-4.246, 10.1374) -> (-4.1328, 10.1374) centre (-4.1894, 10.194) ccw
  line L152 (-4.0149, 11.458) -> (-3.4701, 10.9132)
  arc A162 (-4.0149, 11.5711) -> (-4.0149, 11.458) centre (-3.9583, 11.5146) ccw
  line L153 (-3.8063, 11.7797) -> (-4.0149, 11.5711)
  arc A163 (-3.6931, 11.7797) -> (-3.8063, 11.7797) centre (-3.7497, 11.7232) ccw
  line L154 (-3.1484, 11.235) -> (-3.6931, 11.7797)
  arc A164 (-3.1484, 11.1219) -> (-3.1484, 11.235) centre (-3.205, 11.1784) ccw
  line L155 (-3.357, 10.9132) -> (-3.1484, 11.1219)
  arc A165 (-3.4701, 10.9132) -> (-3.357, 10.9132) centre (-3.4136, 10.9698) ccw
  line L156 (-2.9863, 12.4866) -> (-2.4416, 11.9418)
  arc A166 (-2.9863, 12.5997) -> (-2.9863, 12.4866) centre (-2.9297, 12.5431) ccw
  line L157 (-2.7777, 12.8083) -> (-2.9863, 12.5997)
  arc A167 (-2.6646, 12.8083) -> (-2.7777, 12.8083) centre (-2.7211, 12.7518) ccw
  line L158 (-2.1198, 12.2636) -> (-2.6646, 12.8083)
  arc A168 (-2.1198, 12.1504) -> (-2.1198, 12.2636) centre (-2.1764, 12.207) ccw
  line L159 (-2.3284, 11.9418) -> (-2.1198, 12.1504)
  arc A169 (-2.4416, 11.9418) -> (-2.3284, 11.9418) centre (-2.385, 11.9984) ccw
  line L160 (-2.2113, 13.1966) -> (-1.6665, 12.6519)
  arc A170 (-2.2113, 13.3098) -> (-2.2113, 13.1966) centre (-2.1547, 13.2532) ccw
  line L161 (-2.0026, 13.5184) -> (-2.2113, 13.3098)
  arc A171 (-1.8895, 13.5184) -> (-2.0026, 13.5184) centre (-1.9461, 13.4618) ccw
  line L162 (-1.3447, 12.9736) -> (-1.8895, 13.5184)
  arc A172 (-1.3447, 12.8605) -> (-1.3447, 12.9736) centre (-1.4013, 12.9171) ccw
  line L163 (-1.5534, 12.6519) -> (-1.3447, 12.8605)
  arc A173 (-1.6665, 12.6519) -> (-1.5534, 12.6519) centre (-1.6099, 12.7084) ccw
  line L164 (-3.2047, 9.0962) -> (-2.66, 8.5514)
  arc A174 (-3.2047, 9.2093) -> (-3.2047, 9.0962) centre (-3.1482, 9.1528) ccw
  line L165 (-2.9961, 9.418) -> (-3.2047, 9.2093)
  arc A175 (-2.883, 9.418) -> (-2.9961, 9.418) centre (-2.9395, 9.3614) ccw
  line L166 (-2.3382, 8.8732) -> (-2.883, 9.418)
  arc A176 (-2.3382, 8.7601) -> (-2.3382, 8.8732) centre (-2.3948, 8.8166) ccw
  line L167 (-2.5468, 8.5514) -> (-2.3382, 8.7601)
  arc A177 (-2.66, 8.5514) -> (-2.5468, 8.5514) centre (-2.6034, 8.608) ccw
  line L168 (-1.7542, 7.6122) -> (-1.2095, 7.0674)
  arc A178 (-1.7542, 7.7253) -> (-1.7542, 7.6122) centre (-1.6977, 7.6688) ccw
  line L169 (-1.5456, 7.9339) -> (-1.7542, 7.7253)
  arc A179 (-1.4325, 7.9339) -> (-1.5456, 7.9339) centre (-1.4891, 7.8774) ccw
  line L170 (-0.8877, 7.3892) -> (-1.4325, 7.9339)
  arc A180 (-0.8877, 7.2761) -> (-0.8877, 7.3892) centre (-0.9443, 7.3326) ccw
  line L171 (-1.0964, 7.0674) -> (-0.8877, 7.2761)
  arc A181 (-1.2095, 7.0674) -> (-1.0964, 7.0674) centre (-1.1529, 7.124) ccw
  line L172 (13.279, -7.1541) -> (14.2033, -6.2298)
  arc A182 (13.1659, -7.1541) -> (13.279, -7.1541) centre (13.2224, -7.0975) ccw
  line L173 (12.7221, -6.7104) -> (13.1659, -7.1541)
  arc A183 (12.7221, -6.5972) -> (12.7221, -6.7104) centre (12.7787, -6.6538) ccw
  line L174 (13.6464, -5.6729) -> (12.7221, -6.5972)
  arc A184 (13.7595, -5.6729) -> (13.6464, -5.6729) centre (13.703, -5.7295) ccw
  line L175 (14.2033, -6.1167) -> (13.7595, -5.6729)
  arc A185 (14.2033, -6.2298) -> (14.2033, -6.1167) centre (14.1467, -6.1732) ccw
  line L176 (15.2014, -5.2317) -> (16.2064, -4.2266)
  arc A186 (15.0883, -5.2317) -> (15.2014, -5.2317) centre (15.1448, -5.1751) ccw
  line L177 (14.6446, -4.7879) -> (15.0883, -5.2317)
  arc A187 (14.6446, -4.6748) -> (14.6446, -4.7879) centre (14.7011, -4.7314) ccw
  line L178 (15.6496, -3.6698) -> (14.6446, -4.6748)
  arc A188 (15.7627, -3.6698) -> (15.6496, -3.6698) centre (15.7061, -3.7264) ccw
  line L179 (16.2064, -4.1135) -> (15.7627, -3.6698)
  arc A189 (16.2064, -4.2266) -> (16.2064, -4.1135) centre (16.1499, -4.1701) ccw
  line L180 (9.2038, 13.4854) -> (8.8721, 13.8171)
  line L181 (9.7139, 13.9956) -> (9.2038, 13.4854)
  arc A190 (9.9603, 13.9956) -> (9.7139, 13.9956) centre (9.8371, 13.8724) ccw
  line L182 (10.0834, 13.8724) -> (9.9603, 13.9956)
  arc A191 (10.0834, 13.6261) -> (10.0834, 13.8724) centre (9.9603, 13.7492) ccw
  line L183 (9.5733, 13.1159) -> (10.0834, 13.6261)
  line L184 (10.1035, 12.5857) -> (9.5733, 13.1159)
  line L185 (10.6137, 13.0958) -> (10.1035, 12.5857)
  arc A192 (10.86, 13.0958) -> (10.6137, 13.0958) centre (10.7368, 12.9727) ccw
  line L186 (10.9831, 12.9727) -> (10.86, 13.0958)
  arc A193 (10.9831, 12.7263) -> (10.9831, 12.9727) centre (10.86, 12.8495) ccw
  line L187 (10.473, 12.2162) -> (10.9831, 12.7263)
  line L188 (11.0032, 11.686) -> (10.473, 12.2162)
  line L189 (11.5134, 12.1961) -> (11.0032, 11.686)
  arc A194 (11.7597, 12.1961) -> (11.5134, 12.1961) centre (11.6365, 12.0729) ccw
  line L190 (11.8829, 12.0729) -> (11.7597, 12.1961)
  arc A195 (11.8829, 11.8266) -> (11.8829, 12.0729) centre (11.7597, 11.9498) ccw
  line L191 (11.3727, 11.3165) -> (11.8829, 11.8266)
  line L192 (11.903, 10.7862) -> (11.3727, 11.3165)
  line L193 (12.4131, 11.2964) -> (11.903, 10.7862)
  arc A196 (12.6594, 11.2964) -> (12.4131, 11.2964) centre (12.5363, 11.1732) ccw
  line L194 (12.7826, 11.1732) -> (12.6594, 11.2964)
  arc A197 (12.7826, 10.9269) -> (12.7826, 11.1732) centre (12.6594, 11.05) ccw
  line L195 (12.2725, 10.4167) -> (12.7826, 10.9269)
  line L196 (12.8027, 9.8865) -> (12.2725, 10.4167)
  line L197 (13.3128, 10.3966) -> (12.8027, 9.8865)
  arc A198 (13.5592, 10.3966) -> (13.3128, 10.3966) centre (13.436, 10.2735) ccw
  line L198 (13.6823, 10.2735) -> (13.5592, 10.3966)
  arc A199 (13.6823, 10.0272) -> (13.6823, 10.2735) centre (13.5592, 10.1503) ccw
  line L199 (13.1722, 9.517) -> (13.6823, 10.0272)
  line L200 (13.6598, 9.0294) -> (13.1722, 9.517)
  line L201 (11.5403, 6.9099) -> (13.6598, 9.0294)
  line L202 (11.0527, 7.3976) -> (11.5403, 6.9099)
  line L203 (10.5426, 6.8874) -> (11.0527, 7.3976)
  arc A200 (10.2963, 6.8874) -> (10.5426, 6.8874) centre (10.4194, 7.0106) ccw
  line L204 (10.1731, 7.0106) -> (10.2963, 6.8874)
  arc A201 (10.1731, 7.2569) -> (10.1731, 7.0106) centre (10.2963, 7.1337) ccw
  line L205 (10.6832, 7.767) -> (10.1731, 7.2569)
  line L206 (10.153, 8.2973) -> (10.6832, 7.767)
  line L207 (9.6429, 7.7871) -> (10.153, 8.2973)
  arc A202 (9.3965, 7.7871) -> (9.6429, 7.7871) centre (9.5197, 7.9103) ccw
  line L208 (9.2734, 7.9103) -> (9.3965, 7.7871)
  arc A203 (9.2734, 8.1566) -> (9.2734, 7.9103) centre (9.3965, 8.0335) ccw
  line L209 (9.7835, 8.6668) -> (9.2734, 8.1566)
  line L210 (9.2533, 9.197) -> (9.7835, 8.6668)
  line L211 (8.7431, 8.6869) -> (9.2533, 9.197)
  arc A204 (8.4968, 8.6869) -> (8.7431, 8.6869) centre (8.62, 8.81) ccw
  line L212 (8.3736, 8.81) -> (8.4968, 8.6869)
  arc A205 (8.3736, 9.0564) -> (8.3736, 8.81) centre (8.4968, 8.9332) ccw
  line L213 (8.8838, 9.5665) -> (8.3736, 9.0564)
  line L214 (8.3535, 10.0967) -> (8.8838, 9.5665)
  line L215 (7.8434, 9.5866) -> (8.3535, 10.0967)
  arc A206 (7.5971, 9.5866) -> (7.8434, 9.5866) centre (7.7202, 9.7098) ccw
  line L216 (7.4739, 9.7098) -> (7.5971, 9.5866)
  arc A207 (7.4739, 9.9561) -> (7.4739, 9.7098) centre (7.5971, 9.8329) ccw
  line L217 (7.9841, 10.4662) -> (7.4739, 9.9561)
  line L218 (7.4538, 10.9965) -> (7.9841, 10.4662)
  line L219 (6.9437, 10.4863) -> (7.4538, 10.9965)
  arc A208 (6.6973, 10.4863) -> (6.9437, 10.4863) centre (6.8205, 10.6095) ccw
  line L220 (6.5742, 10.6095) -> (6.6973, 10.4863)
  arc A209 (6.5742, 10.8558) -> (6.5742, 10.6095) centre (6.6973, 10.7327) ccw
  line L221 (7.0843, 11.366) -> (6.5742, 10.8558)
  line L222 (6.7526, 11.6976) -> (7.0843, 11.366)
  line L223 (8.8721, 13.8171) -> (6.7526, 11.6976)
  line L224 (9.6792, -2.5692) -> (11.6225, -0.6259)
  arc A210 (9.5661, -2.5692) -> (9.6792, -2.5692) centre (9.6227, -2.5126) ccw
  line L225 (8.5435, -1.5466) -> (9.5661, -2.5692)
  arc A211 (8.5435, -1.4334) -> (8.5435, -1.5466) centre (8.6, -1.49) ccw
  line L226 (10.4868, 0.5099) -> (8.5435, -1.4334)
  arc A212 (10.5999, 0.5099) -> (10.4868, 0.5099) centre (10.5433, 0.4533) ccw
  line L227 (11.6225, -0.5128) -> (10.5999, 0.5099)
  arc A213 (11.6225, -0.6259) -> (11.6225, -0.5128) centre (11.566, -0.5693) ccw
  line L228 (0.5538, 8.0568) -> (1.2737, 8.7766)
  arc A214 (0.4407, 8.0568) -> (0.5538, 8.0568) centre (0.4973, 8.1133) ccw
  line L229 (-1.3959, 9.8933) -> (0.4407, 8.0568)
  arc A215 (-1.3959, 10.0065) -> (-1.3959, 9.8933) centre (-1.3393, 9.9499) ccw
  line L230 (-0.6761, 10.7263) -> (-1.3959, 10.0065)
  arc A216 (-0.5629, 10.7263) -> (-0.6761, 10.7263) centre (-0.6195, 10.6697) ccw
  line L231 (1.2737, 8.8897) -> (-0.5629, 10.7263)
  arc A217 (1.2737, 8.7766) -> (1.2737, 8.8897) centre (1.2171, 8.8331) ccw
  line L232 (-11.4335, -0.5331) -> (-10.3432, 0.5572)
  arc A218 (-11.5466, -0.5331) -> (-11.4335, -0.5331) centre (-11.49, -0.4765) ccw
  line L233 (-12.2254, 0.1457) -> (-11.5466, -0.5331)
  arc A219 (-12.2254, 0.2588) -> (-12.2254, 0.1457) centre (-12.1688, 0.2023) ccw
  line L234 (-11.1351, 1.3491) -> (-12.2254, 0.2588)
  arc A220 (-11.022, 1.3491) -> (-11.1351, 1.3491) centre (-11.0786, 1.2925) ccw
  line L235 (-10.3432, 0.6703) -> (-11.022, 1.3491)
  arc A221 (-10.3432, 0.5572) -> (-10.3432, 0.6703) centre (-10.3998, 0.6137) ccw
  line L236 (-12.836, 0.7898) -> (-11.7059, 1.9198)
  arc A222 (-12.9491, 0.7898) -> (-12.836, 0.7898) centre (-12.8925, 0.8463) ccw
  line L237 (-13.6589, 1.4995) -> (-12.9491, 0.7898)
  arc A223 (-13.6589, 1.6127) -> (-13.6589, 1.4995) centre (-13.6023, 1.5561) ccw
  line L238 (-12.5288, 2.7428) -> (-13.6589, 1.6127)
  arc A224 (-12.4157, 2.7428) -> (-12.5288, 2.7428) centre (-12.4722, 2.6862) ccw
  line L239 (-11.7059, 2.033) -> (-12.4157, 2.7428)
  arc A225 (-11.7059, 1.9198) -> (-11.7059, 2.033) centre (-11.7624, 1.9764) ccw
  line L240 (-5.5283, 1.6867) -> (-2.8273, 4.3878)
  arc A226 (-5.6415, 1.6867) -> (-5.5283, 1.6867) centre (-5.5849, 1.7433) ccw
  line L241 (-8.3509, 4.3961) -> (-5.6415, 1.6867)
  arc A227 (-8.3509, 4.5092) -> (-8.3509, 4.3961) centre (-8.2943, 4.4527) ccw
  line L242 (-5.6498, 7.2103) -> (-8.3509, 4.5092)
  arc A228 (-5.5367, 7.2103) -> (-5.6498, 7.2103) centre (-5.5932, 7.1537) ccw
  line L243 (-2.8273, 4.5009) -> (-5.5367, 7.2103)
  arc A229 (-2.8273, 4.3878) -> (-2.8273, 4.5009) centre (-2.8838, 4.4443) ccw
  circle A230 centre (14.3189, -9.0863) radius 0.75
  circle A231 centre (12.5158, -10.8894) radius 0.75
  circle A232 centre (10.7127, -12.6926) radius 0.75
  circle A233 centre (8.9095, -14.4957) radius 0.75
  circle A234 centre (7.1064, -16.2988) radius 0.75
  circle A235 centre (5.3033, -18.1019) radius 0.75
  circle A236 centre (-6.9862, 12.5016) radius 0.75
  circle A237 centre (6.0104, 17.3948) radius 0.75
  circle A238 centre (16.7938, 6.47) radius 0.75
  circle A239 centre (16.6524, 2.7224) radius 0.75
  circle A240 centre (13.6118, 1.8738) radius 0.75
  circle A241 centre (11.8087, 3.677) radius 0.75
  circle A242 centre (-12.5158, 10.8187) radius 0.75
  circle A243 centre (-14.3189, 9.0156) radius 0.75
  circle A244 centre (-16.122, 7.2125) radius 0.75
  circle A245 centre (-8.7893, 10.6985) radius 0.75
  circle A246 centre (-10.5925, 8.8954) radius 0.75
  circle A247 centre (-12.3956, 7.0923) radius 0.75
  circle A248 centre (-10.7127, 12.6219) radius 0.75
  circle A249 centre (-8.9095, 14.425) radius 0.75
  circle A250 centre (-14.1987, 5.2892) radius 0.75
  circle A251 centre (-7.2478, -8.8742) radius 0.6
  circle A252 centre (-6.1872, -9.9349) radius 0.6
  circle A253 centre (-5.1265, -10.9955) radius 0.6
  circle A254 centre (-0.1768, -15.521) radius 0.6
  circle A255 centre (1.9445, -17.6423) radius 0.6
  circle A256 centre (0.8485, -16.5463) radius 0.65
  circle A257 centre (-8.9377, 0.7782) radius 0.5
  circle A258 centre (-8.8564, -0.5181) radius 0.5
  circle A259 centre (21.5668, 0) radius 2.725
  circle A260 centre (0, -21.5668) radius 2.725
  circle A261 centre (-21.5668, 0) radius 2.725
  circle A262 centre (0, 21.5668) radius 2.725
  circle A263 centre (21.5668, 0) radius 1.75
  circle A264 centre (0, -21.5668) radius 1.75
  circle A265 centre (-21.5668, 0) radius 1.75
  circle A266 centre (0, 21.5668) radius 1.75
  point P0 (0, 0)
  point P1 (0, 0)
  point P2 (2.725, 21.5668)
  point P3 (-2.3228, 22.9916)
  point P4 (22.9916, -2.3228)
  point P5 (23.2155, 2.1696)
  point P6 (-22.9916, 2.3228)
  point P7 (-2.6701, -21.0224)
  point P8 (2.3228, -22.9916)
  dimension "d19" = 2.725
  dimension "d20" = 3.5
  dimension "d21" = 3.5
  dimension "d22" = 3.5
  dimension "d23" = 3.5
extrude "Extrusion6" cut sketch "Sketch4" against normal blind 25.4 contours A263 | A264 | A265 | A266
properties part number "Plate"
